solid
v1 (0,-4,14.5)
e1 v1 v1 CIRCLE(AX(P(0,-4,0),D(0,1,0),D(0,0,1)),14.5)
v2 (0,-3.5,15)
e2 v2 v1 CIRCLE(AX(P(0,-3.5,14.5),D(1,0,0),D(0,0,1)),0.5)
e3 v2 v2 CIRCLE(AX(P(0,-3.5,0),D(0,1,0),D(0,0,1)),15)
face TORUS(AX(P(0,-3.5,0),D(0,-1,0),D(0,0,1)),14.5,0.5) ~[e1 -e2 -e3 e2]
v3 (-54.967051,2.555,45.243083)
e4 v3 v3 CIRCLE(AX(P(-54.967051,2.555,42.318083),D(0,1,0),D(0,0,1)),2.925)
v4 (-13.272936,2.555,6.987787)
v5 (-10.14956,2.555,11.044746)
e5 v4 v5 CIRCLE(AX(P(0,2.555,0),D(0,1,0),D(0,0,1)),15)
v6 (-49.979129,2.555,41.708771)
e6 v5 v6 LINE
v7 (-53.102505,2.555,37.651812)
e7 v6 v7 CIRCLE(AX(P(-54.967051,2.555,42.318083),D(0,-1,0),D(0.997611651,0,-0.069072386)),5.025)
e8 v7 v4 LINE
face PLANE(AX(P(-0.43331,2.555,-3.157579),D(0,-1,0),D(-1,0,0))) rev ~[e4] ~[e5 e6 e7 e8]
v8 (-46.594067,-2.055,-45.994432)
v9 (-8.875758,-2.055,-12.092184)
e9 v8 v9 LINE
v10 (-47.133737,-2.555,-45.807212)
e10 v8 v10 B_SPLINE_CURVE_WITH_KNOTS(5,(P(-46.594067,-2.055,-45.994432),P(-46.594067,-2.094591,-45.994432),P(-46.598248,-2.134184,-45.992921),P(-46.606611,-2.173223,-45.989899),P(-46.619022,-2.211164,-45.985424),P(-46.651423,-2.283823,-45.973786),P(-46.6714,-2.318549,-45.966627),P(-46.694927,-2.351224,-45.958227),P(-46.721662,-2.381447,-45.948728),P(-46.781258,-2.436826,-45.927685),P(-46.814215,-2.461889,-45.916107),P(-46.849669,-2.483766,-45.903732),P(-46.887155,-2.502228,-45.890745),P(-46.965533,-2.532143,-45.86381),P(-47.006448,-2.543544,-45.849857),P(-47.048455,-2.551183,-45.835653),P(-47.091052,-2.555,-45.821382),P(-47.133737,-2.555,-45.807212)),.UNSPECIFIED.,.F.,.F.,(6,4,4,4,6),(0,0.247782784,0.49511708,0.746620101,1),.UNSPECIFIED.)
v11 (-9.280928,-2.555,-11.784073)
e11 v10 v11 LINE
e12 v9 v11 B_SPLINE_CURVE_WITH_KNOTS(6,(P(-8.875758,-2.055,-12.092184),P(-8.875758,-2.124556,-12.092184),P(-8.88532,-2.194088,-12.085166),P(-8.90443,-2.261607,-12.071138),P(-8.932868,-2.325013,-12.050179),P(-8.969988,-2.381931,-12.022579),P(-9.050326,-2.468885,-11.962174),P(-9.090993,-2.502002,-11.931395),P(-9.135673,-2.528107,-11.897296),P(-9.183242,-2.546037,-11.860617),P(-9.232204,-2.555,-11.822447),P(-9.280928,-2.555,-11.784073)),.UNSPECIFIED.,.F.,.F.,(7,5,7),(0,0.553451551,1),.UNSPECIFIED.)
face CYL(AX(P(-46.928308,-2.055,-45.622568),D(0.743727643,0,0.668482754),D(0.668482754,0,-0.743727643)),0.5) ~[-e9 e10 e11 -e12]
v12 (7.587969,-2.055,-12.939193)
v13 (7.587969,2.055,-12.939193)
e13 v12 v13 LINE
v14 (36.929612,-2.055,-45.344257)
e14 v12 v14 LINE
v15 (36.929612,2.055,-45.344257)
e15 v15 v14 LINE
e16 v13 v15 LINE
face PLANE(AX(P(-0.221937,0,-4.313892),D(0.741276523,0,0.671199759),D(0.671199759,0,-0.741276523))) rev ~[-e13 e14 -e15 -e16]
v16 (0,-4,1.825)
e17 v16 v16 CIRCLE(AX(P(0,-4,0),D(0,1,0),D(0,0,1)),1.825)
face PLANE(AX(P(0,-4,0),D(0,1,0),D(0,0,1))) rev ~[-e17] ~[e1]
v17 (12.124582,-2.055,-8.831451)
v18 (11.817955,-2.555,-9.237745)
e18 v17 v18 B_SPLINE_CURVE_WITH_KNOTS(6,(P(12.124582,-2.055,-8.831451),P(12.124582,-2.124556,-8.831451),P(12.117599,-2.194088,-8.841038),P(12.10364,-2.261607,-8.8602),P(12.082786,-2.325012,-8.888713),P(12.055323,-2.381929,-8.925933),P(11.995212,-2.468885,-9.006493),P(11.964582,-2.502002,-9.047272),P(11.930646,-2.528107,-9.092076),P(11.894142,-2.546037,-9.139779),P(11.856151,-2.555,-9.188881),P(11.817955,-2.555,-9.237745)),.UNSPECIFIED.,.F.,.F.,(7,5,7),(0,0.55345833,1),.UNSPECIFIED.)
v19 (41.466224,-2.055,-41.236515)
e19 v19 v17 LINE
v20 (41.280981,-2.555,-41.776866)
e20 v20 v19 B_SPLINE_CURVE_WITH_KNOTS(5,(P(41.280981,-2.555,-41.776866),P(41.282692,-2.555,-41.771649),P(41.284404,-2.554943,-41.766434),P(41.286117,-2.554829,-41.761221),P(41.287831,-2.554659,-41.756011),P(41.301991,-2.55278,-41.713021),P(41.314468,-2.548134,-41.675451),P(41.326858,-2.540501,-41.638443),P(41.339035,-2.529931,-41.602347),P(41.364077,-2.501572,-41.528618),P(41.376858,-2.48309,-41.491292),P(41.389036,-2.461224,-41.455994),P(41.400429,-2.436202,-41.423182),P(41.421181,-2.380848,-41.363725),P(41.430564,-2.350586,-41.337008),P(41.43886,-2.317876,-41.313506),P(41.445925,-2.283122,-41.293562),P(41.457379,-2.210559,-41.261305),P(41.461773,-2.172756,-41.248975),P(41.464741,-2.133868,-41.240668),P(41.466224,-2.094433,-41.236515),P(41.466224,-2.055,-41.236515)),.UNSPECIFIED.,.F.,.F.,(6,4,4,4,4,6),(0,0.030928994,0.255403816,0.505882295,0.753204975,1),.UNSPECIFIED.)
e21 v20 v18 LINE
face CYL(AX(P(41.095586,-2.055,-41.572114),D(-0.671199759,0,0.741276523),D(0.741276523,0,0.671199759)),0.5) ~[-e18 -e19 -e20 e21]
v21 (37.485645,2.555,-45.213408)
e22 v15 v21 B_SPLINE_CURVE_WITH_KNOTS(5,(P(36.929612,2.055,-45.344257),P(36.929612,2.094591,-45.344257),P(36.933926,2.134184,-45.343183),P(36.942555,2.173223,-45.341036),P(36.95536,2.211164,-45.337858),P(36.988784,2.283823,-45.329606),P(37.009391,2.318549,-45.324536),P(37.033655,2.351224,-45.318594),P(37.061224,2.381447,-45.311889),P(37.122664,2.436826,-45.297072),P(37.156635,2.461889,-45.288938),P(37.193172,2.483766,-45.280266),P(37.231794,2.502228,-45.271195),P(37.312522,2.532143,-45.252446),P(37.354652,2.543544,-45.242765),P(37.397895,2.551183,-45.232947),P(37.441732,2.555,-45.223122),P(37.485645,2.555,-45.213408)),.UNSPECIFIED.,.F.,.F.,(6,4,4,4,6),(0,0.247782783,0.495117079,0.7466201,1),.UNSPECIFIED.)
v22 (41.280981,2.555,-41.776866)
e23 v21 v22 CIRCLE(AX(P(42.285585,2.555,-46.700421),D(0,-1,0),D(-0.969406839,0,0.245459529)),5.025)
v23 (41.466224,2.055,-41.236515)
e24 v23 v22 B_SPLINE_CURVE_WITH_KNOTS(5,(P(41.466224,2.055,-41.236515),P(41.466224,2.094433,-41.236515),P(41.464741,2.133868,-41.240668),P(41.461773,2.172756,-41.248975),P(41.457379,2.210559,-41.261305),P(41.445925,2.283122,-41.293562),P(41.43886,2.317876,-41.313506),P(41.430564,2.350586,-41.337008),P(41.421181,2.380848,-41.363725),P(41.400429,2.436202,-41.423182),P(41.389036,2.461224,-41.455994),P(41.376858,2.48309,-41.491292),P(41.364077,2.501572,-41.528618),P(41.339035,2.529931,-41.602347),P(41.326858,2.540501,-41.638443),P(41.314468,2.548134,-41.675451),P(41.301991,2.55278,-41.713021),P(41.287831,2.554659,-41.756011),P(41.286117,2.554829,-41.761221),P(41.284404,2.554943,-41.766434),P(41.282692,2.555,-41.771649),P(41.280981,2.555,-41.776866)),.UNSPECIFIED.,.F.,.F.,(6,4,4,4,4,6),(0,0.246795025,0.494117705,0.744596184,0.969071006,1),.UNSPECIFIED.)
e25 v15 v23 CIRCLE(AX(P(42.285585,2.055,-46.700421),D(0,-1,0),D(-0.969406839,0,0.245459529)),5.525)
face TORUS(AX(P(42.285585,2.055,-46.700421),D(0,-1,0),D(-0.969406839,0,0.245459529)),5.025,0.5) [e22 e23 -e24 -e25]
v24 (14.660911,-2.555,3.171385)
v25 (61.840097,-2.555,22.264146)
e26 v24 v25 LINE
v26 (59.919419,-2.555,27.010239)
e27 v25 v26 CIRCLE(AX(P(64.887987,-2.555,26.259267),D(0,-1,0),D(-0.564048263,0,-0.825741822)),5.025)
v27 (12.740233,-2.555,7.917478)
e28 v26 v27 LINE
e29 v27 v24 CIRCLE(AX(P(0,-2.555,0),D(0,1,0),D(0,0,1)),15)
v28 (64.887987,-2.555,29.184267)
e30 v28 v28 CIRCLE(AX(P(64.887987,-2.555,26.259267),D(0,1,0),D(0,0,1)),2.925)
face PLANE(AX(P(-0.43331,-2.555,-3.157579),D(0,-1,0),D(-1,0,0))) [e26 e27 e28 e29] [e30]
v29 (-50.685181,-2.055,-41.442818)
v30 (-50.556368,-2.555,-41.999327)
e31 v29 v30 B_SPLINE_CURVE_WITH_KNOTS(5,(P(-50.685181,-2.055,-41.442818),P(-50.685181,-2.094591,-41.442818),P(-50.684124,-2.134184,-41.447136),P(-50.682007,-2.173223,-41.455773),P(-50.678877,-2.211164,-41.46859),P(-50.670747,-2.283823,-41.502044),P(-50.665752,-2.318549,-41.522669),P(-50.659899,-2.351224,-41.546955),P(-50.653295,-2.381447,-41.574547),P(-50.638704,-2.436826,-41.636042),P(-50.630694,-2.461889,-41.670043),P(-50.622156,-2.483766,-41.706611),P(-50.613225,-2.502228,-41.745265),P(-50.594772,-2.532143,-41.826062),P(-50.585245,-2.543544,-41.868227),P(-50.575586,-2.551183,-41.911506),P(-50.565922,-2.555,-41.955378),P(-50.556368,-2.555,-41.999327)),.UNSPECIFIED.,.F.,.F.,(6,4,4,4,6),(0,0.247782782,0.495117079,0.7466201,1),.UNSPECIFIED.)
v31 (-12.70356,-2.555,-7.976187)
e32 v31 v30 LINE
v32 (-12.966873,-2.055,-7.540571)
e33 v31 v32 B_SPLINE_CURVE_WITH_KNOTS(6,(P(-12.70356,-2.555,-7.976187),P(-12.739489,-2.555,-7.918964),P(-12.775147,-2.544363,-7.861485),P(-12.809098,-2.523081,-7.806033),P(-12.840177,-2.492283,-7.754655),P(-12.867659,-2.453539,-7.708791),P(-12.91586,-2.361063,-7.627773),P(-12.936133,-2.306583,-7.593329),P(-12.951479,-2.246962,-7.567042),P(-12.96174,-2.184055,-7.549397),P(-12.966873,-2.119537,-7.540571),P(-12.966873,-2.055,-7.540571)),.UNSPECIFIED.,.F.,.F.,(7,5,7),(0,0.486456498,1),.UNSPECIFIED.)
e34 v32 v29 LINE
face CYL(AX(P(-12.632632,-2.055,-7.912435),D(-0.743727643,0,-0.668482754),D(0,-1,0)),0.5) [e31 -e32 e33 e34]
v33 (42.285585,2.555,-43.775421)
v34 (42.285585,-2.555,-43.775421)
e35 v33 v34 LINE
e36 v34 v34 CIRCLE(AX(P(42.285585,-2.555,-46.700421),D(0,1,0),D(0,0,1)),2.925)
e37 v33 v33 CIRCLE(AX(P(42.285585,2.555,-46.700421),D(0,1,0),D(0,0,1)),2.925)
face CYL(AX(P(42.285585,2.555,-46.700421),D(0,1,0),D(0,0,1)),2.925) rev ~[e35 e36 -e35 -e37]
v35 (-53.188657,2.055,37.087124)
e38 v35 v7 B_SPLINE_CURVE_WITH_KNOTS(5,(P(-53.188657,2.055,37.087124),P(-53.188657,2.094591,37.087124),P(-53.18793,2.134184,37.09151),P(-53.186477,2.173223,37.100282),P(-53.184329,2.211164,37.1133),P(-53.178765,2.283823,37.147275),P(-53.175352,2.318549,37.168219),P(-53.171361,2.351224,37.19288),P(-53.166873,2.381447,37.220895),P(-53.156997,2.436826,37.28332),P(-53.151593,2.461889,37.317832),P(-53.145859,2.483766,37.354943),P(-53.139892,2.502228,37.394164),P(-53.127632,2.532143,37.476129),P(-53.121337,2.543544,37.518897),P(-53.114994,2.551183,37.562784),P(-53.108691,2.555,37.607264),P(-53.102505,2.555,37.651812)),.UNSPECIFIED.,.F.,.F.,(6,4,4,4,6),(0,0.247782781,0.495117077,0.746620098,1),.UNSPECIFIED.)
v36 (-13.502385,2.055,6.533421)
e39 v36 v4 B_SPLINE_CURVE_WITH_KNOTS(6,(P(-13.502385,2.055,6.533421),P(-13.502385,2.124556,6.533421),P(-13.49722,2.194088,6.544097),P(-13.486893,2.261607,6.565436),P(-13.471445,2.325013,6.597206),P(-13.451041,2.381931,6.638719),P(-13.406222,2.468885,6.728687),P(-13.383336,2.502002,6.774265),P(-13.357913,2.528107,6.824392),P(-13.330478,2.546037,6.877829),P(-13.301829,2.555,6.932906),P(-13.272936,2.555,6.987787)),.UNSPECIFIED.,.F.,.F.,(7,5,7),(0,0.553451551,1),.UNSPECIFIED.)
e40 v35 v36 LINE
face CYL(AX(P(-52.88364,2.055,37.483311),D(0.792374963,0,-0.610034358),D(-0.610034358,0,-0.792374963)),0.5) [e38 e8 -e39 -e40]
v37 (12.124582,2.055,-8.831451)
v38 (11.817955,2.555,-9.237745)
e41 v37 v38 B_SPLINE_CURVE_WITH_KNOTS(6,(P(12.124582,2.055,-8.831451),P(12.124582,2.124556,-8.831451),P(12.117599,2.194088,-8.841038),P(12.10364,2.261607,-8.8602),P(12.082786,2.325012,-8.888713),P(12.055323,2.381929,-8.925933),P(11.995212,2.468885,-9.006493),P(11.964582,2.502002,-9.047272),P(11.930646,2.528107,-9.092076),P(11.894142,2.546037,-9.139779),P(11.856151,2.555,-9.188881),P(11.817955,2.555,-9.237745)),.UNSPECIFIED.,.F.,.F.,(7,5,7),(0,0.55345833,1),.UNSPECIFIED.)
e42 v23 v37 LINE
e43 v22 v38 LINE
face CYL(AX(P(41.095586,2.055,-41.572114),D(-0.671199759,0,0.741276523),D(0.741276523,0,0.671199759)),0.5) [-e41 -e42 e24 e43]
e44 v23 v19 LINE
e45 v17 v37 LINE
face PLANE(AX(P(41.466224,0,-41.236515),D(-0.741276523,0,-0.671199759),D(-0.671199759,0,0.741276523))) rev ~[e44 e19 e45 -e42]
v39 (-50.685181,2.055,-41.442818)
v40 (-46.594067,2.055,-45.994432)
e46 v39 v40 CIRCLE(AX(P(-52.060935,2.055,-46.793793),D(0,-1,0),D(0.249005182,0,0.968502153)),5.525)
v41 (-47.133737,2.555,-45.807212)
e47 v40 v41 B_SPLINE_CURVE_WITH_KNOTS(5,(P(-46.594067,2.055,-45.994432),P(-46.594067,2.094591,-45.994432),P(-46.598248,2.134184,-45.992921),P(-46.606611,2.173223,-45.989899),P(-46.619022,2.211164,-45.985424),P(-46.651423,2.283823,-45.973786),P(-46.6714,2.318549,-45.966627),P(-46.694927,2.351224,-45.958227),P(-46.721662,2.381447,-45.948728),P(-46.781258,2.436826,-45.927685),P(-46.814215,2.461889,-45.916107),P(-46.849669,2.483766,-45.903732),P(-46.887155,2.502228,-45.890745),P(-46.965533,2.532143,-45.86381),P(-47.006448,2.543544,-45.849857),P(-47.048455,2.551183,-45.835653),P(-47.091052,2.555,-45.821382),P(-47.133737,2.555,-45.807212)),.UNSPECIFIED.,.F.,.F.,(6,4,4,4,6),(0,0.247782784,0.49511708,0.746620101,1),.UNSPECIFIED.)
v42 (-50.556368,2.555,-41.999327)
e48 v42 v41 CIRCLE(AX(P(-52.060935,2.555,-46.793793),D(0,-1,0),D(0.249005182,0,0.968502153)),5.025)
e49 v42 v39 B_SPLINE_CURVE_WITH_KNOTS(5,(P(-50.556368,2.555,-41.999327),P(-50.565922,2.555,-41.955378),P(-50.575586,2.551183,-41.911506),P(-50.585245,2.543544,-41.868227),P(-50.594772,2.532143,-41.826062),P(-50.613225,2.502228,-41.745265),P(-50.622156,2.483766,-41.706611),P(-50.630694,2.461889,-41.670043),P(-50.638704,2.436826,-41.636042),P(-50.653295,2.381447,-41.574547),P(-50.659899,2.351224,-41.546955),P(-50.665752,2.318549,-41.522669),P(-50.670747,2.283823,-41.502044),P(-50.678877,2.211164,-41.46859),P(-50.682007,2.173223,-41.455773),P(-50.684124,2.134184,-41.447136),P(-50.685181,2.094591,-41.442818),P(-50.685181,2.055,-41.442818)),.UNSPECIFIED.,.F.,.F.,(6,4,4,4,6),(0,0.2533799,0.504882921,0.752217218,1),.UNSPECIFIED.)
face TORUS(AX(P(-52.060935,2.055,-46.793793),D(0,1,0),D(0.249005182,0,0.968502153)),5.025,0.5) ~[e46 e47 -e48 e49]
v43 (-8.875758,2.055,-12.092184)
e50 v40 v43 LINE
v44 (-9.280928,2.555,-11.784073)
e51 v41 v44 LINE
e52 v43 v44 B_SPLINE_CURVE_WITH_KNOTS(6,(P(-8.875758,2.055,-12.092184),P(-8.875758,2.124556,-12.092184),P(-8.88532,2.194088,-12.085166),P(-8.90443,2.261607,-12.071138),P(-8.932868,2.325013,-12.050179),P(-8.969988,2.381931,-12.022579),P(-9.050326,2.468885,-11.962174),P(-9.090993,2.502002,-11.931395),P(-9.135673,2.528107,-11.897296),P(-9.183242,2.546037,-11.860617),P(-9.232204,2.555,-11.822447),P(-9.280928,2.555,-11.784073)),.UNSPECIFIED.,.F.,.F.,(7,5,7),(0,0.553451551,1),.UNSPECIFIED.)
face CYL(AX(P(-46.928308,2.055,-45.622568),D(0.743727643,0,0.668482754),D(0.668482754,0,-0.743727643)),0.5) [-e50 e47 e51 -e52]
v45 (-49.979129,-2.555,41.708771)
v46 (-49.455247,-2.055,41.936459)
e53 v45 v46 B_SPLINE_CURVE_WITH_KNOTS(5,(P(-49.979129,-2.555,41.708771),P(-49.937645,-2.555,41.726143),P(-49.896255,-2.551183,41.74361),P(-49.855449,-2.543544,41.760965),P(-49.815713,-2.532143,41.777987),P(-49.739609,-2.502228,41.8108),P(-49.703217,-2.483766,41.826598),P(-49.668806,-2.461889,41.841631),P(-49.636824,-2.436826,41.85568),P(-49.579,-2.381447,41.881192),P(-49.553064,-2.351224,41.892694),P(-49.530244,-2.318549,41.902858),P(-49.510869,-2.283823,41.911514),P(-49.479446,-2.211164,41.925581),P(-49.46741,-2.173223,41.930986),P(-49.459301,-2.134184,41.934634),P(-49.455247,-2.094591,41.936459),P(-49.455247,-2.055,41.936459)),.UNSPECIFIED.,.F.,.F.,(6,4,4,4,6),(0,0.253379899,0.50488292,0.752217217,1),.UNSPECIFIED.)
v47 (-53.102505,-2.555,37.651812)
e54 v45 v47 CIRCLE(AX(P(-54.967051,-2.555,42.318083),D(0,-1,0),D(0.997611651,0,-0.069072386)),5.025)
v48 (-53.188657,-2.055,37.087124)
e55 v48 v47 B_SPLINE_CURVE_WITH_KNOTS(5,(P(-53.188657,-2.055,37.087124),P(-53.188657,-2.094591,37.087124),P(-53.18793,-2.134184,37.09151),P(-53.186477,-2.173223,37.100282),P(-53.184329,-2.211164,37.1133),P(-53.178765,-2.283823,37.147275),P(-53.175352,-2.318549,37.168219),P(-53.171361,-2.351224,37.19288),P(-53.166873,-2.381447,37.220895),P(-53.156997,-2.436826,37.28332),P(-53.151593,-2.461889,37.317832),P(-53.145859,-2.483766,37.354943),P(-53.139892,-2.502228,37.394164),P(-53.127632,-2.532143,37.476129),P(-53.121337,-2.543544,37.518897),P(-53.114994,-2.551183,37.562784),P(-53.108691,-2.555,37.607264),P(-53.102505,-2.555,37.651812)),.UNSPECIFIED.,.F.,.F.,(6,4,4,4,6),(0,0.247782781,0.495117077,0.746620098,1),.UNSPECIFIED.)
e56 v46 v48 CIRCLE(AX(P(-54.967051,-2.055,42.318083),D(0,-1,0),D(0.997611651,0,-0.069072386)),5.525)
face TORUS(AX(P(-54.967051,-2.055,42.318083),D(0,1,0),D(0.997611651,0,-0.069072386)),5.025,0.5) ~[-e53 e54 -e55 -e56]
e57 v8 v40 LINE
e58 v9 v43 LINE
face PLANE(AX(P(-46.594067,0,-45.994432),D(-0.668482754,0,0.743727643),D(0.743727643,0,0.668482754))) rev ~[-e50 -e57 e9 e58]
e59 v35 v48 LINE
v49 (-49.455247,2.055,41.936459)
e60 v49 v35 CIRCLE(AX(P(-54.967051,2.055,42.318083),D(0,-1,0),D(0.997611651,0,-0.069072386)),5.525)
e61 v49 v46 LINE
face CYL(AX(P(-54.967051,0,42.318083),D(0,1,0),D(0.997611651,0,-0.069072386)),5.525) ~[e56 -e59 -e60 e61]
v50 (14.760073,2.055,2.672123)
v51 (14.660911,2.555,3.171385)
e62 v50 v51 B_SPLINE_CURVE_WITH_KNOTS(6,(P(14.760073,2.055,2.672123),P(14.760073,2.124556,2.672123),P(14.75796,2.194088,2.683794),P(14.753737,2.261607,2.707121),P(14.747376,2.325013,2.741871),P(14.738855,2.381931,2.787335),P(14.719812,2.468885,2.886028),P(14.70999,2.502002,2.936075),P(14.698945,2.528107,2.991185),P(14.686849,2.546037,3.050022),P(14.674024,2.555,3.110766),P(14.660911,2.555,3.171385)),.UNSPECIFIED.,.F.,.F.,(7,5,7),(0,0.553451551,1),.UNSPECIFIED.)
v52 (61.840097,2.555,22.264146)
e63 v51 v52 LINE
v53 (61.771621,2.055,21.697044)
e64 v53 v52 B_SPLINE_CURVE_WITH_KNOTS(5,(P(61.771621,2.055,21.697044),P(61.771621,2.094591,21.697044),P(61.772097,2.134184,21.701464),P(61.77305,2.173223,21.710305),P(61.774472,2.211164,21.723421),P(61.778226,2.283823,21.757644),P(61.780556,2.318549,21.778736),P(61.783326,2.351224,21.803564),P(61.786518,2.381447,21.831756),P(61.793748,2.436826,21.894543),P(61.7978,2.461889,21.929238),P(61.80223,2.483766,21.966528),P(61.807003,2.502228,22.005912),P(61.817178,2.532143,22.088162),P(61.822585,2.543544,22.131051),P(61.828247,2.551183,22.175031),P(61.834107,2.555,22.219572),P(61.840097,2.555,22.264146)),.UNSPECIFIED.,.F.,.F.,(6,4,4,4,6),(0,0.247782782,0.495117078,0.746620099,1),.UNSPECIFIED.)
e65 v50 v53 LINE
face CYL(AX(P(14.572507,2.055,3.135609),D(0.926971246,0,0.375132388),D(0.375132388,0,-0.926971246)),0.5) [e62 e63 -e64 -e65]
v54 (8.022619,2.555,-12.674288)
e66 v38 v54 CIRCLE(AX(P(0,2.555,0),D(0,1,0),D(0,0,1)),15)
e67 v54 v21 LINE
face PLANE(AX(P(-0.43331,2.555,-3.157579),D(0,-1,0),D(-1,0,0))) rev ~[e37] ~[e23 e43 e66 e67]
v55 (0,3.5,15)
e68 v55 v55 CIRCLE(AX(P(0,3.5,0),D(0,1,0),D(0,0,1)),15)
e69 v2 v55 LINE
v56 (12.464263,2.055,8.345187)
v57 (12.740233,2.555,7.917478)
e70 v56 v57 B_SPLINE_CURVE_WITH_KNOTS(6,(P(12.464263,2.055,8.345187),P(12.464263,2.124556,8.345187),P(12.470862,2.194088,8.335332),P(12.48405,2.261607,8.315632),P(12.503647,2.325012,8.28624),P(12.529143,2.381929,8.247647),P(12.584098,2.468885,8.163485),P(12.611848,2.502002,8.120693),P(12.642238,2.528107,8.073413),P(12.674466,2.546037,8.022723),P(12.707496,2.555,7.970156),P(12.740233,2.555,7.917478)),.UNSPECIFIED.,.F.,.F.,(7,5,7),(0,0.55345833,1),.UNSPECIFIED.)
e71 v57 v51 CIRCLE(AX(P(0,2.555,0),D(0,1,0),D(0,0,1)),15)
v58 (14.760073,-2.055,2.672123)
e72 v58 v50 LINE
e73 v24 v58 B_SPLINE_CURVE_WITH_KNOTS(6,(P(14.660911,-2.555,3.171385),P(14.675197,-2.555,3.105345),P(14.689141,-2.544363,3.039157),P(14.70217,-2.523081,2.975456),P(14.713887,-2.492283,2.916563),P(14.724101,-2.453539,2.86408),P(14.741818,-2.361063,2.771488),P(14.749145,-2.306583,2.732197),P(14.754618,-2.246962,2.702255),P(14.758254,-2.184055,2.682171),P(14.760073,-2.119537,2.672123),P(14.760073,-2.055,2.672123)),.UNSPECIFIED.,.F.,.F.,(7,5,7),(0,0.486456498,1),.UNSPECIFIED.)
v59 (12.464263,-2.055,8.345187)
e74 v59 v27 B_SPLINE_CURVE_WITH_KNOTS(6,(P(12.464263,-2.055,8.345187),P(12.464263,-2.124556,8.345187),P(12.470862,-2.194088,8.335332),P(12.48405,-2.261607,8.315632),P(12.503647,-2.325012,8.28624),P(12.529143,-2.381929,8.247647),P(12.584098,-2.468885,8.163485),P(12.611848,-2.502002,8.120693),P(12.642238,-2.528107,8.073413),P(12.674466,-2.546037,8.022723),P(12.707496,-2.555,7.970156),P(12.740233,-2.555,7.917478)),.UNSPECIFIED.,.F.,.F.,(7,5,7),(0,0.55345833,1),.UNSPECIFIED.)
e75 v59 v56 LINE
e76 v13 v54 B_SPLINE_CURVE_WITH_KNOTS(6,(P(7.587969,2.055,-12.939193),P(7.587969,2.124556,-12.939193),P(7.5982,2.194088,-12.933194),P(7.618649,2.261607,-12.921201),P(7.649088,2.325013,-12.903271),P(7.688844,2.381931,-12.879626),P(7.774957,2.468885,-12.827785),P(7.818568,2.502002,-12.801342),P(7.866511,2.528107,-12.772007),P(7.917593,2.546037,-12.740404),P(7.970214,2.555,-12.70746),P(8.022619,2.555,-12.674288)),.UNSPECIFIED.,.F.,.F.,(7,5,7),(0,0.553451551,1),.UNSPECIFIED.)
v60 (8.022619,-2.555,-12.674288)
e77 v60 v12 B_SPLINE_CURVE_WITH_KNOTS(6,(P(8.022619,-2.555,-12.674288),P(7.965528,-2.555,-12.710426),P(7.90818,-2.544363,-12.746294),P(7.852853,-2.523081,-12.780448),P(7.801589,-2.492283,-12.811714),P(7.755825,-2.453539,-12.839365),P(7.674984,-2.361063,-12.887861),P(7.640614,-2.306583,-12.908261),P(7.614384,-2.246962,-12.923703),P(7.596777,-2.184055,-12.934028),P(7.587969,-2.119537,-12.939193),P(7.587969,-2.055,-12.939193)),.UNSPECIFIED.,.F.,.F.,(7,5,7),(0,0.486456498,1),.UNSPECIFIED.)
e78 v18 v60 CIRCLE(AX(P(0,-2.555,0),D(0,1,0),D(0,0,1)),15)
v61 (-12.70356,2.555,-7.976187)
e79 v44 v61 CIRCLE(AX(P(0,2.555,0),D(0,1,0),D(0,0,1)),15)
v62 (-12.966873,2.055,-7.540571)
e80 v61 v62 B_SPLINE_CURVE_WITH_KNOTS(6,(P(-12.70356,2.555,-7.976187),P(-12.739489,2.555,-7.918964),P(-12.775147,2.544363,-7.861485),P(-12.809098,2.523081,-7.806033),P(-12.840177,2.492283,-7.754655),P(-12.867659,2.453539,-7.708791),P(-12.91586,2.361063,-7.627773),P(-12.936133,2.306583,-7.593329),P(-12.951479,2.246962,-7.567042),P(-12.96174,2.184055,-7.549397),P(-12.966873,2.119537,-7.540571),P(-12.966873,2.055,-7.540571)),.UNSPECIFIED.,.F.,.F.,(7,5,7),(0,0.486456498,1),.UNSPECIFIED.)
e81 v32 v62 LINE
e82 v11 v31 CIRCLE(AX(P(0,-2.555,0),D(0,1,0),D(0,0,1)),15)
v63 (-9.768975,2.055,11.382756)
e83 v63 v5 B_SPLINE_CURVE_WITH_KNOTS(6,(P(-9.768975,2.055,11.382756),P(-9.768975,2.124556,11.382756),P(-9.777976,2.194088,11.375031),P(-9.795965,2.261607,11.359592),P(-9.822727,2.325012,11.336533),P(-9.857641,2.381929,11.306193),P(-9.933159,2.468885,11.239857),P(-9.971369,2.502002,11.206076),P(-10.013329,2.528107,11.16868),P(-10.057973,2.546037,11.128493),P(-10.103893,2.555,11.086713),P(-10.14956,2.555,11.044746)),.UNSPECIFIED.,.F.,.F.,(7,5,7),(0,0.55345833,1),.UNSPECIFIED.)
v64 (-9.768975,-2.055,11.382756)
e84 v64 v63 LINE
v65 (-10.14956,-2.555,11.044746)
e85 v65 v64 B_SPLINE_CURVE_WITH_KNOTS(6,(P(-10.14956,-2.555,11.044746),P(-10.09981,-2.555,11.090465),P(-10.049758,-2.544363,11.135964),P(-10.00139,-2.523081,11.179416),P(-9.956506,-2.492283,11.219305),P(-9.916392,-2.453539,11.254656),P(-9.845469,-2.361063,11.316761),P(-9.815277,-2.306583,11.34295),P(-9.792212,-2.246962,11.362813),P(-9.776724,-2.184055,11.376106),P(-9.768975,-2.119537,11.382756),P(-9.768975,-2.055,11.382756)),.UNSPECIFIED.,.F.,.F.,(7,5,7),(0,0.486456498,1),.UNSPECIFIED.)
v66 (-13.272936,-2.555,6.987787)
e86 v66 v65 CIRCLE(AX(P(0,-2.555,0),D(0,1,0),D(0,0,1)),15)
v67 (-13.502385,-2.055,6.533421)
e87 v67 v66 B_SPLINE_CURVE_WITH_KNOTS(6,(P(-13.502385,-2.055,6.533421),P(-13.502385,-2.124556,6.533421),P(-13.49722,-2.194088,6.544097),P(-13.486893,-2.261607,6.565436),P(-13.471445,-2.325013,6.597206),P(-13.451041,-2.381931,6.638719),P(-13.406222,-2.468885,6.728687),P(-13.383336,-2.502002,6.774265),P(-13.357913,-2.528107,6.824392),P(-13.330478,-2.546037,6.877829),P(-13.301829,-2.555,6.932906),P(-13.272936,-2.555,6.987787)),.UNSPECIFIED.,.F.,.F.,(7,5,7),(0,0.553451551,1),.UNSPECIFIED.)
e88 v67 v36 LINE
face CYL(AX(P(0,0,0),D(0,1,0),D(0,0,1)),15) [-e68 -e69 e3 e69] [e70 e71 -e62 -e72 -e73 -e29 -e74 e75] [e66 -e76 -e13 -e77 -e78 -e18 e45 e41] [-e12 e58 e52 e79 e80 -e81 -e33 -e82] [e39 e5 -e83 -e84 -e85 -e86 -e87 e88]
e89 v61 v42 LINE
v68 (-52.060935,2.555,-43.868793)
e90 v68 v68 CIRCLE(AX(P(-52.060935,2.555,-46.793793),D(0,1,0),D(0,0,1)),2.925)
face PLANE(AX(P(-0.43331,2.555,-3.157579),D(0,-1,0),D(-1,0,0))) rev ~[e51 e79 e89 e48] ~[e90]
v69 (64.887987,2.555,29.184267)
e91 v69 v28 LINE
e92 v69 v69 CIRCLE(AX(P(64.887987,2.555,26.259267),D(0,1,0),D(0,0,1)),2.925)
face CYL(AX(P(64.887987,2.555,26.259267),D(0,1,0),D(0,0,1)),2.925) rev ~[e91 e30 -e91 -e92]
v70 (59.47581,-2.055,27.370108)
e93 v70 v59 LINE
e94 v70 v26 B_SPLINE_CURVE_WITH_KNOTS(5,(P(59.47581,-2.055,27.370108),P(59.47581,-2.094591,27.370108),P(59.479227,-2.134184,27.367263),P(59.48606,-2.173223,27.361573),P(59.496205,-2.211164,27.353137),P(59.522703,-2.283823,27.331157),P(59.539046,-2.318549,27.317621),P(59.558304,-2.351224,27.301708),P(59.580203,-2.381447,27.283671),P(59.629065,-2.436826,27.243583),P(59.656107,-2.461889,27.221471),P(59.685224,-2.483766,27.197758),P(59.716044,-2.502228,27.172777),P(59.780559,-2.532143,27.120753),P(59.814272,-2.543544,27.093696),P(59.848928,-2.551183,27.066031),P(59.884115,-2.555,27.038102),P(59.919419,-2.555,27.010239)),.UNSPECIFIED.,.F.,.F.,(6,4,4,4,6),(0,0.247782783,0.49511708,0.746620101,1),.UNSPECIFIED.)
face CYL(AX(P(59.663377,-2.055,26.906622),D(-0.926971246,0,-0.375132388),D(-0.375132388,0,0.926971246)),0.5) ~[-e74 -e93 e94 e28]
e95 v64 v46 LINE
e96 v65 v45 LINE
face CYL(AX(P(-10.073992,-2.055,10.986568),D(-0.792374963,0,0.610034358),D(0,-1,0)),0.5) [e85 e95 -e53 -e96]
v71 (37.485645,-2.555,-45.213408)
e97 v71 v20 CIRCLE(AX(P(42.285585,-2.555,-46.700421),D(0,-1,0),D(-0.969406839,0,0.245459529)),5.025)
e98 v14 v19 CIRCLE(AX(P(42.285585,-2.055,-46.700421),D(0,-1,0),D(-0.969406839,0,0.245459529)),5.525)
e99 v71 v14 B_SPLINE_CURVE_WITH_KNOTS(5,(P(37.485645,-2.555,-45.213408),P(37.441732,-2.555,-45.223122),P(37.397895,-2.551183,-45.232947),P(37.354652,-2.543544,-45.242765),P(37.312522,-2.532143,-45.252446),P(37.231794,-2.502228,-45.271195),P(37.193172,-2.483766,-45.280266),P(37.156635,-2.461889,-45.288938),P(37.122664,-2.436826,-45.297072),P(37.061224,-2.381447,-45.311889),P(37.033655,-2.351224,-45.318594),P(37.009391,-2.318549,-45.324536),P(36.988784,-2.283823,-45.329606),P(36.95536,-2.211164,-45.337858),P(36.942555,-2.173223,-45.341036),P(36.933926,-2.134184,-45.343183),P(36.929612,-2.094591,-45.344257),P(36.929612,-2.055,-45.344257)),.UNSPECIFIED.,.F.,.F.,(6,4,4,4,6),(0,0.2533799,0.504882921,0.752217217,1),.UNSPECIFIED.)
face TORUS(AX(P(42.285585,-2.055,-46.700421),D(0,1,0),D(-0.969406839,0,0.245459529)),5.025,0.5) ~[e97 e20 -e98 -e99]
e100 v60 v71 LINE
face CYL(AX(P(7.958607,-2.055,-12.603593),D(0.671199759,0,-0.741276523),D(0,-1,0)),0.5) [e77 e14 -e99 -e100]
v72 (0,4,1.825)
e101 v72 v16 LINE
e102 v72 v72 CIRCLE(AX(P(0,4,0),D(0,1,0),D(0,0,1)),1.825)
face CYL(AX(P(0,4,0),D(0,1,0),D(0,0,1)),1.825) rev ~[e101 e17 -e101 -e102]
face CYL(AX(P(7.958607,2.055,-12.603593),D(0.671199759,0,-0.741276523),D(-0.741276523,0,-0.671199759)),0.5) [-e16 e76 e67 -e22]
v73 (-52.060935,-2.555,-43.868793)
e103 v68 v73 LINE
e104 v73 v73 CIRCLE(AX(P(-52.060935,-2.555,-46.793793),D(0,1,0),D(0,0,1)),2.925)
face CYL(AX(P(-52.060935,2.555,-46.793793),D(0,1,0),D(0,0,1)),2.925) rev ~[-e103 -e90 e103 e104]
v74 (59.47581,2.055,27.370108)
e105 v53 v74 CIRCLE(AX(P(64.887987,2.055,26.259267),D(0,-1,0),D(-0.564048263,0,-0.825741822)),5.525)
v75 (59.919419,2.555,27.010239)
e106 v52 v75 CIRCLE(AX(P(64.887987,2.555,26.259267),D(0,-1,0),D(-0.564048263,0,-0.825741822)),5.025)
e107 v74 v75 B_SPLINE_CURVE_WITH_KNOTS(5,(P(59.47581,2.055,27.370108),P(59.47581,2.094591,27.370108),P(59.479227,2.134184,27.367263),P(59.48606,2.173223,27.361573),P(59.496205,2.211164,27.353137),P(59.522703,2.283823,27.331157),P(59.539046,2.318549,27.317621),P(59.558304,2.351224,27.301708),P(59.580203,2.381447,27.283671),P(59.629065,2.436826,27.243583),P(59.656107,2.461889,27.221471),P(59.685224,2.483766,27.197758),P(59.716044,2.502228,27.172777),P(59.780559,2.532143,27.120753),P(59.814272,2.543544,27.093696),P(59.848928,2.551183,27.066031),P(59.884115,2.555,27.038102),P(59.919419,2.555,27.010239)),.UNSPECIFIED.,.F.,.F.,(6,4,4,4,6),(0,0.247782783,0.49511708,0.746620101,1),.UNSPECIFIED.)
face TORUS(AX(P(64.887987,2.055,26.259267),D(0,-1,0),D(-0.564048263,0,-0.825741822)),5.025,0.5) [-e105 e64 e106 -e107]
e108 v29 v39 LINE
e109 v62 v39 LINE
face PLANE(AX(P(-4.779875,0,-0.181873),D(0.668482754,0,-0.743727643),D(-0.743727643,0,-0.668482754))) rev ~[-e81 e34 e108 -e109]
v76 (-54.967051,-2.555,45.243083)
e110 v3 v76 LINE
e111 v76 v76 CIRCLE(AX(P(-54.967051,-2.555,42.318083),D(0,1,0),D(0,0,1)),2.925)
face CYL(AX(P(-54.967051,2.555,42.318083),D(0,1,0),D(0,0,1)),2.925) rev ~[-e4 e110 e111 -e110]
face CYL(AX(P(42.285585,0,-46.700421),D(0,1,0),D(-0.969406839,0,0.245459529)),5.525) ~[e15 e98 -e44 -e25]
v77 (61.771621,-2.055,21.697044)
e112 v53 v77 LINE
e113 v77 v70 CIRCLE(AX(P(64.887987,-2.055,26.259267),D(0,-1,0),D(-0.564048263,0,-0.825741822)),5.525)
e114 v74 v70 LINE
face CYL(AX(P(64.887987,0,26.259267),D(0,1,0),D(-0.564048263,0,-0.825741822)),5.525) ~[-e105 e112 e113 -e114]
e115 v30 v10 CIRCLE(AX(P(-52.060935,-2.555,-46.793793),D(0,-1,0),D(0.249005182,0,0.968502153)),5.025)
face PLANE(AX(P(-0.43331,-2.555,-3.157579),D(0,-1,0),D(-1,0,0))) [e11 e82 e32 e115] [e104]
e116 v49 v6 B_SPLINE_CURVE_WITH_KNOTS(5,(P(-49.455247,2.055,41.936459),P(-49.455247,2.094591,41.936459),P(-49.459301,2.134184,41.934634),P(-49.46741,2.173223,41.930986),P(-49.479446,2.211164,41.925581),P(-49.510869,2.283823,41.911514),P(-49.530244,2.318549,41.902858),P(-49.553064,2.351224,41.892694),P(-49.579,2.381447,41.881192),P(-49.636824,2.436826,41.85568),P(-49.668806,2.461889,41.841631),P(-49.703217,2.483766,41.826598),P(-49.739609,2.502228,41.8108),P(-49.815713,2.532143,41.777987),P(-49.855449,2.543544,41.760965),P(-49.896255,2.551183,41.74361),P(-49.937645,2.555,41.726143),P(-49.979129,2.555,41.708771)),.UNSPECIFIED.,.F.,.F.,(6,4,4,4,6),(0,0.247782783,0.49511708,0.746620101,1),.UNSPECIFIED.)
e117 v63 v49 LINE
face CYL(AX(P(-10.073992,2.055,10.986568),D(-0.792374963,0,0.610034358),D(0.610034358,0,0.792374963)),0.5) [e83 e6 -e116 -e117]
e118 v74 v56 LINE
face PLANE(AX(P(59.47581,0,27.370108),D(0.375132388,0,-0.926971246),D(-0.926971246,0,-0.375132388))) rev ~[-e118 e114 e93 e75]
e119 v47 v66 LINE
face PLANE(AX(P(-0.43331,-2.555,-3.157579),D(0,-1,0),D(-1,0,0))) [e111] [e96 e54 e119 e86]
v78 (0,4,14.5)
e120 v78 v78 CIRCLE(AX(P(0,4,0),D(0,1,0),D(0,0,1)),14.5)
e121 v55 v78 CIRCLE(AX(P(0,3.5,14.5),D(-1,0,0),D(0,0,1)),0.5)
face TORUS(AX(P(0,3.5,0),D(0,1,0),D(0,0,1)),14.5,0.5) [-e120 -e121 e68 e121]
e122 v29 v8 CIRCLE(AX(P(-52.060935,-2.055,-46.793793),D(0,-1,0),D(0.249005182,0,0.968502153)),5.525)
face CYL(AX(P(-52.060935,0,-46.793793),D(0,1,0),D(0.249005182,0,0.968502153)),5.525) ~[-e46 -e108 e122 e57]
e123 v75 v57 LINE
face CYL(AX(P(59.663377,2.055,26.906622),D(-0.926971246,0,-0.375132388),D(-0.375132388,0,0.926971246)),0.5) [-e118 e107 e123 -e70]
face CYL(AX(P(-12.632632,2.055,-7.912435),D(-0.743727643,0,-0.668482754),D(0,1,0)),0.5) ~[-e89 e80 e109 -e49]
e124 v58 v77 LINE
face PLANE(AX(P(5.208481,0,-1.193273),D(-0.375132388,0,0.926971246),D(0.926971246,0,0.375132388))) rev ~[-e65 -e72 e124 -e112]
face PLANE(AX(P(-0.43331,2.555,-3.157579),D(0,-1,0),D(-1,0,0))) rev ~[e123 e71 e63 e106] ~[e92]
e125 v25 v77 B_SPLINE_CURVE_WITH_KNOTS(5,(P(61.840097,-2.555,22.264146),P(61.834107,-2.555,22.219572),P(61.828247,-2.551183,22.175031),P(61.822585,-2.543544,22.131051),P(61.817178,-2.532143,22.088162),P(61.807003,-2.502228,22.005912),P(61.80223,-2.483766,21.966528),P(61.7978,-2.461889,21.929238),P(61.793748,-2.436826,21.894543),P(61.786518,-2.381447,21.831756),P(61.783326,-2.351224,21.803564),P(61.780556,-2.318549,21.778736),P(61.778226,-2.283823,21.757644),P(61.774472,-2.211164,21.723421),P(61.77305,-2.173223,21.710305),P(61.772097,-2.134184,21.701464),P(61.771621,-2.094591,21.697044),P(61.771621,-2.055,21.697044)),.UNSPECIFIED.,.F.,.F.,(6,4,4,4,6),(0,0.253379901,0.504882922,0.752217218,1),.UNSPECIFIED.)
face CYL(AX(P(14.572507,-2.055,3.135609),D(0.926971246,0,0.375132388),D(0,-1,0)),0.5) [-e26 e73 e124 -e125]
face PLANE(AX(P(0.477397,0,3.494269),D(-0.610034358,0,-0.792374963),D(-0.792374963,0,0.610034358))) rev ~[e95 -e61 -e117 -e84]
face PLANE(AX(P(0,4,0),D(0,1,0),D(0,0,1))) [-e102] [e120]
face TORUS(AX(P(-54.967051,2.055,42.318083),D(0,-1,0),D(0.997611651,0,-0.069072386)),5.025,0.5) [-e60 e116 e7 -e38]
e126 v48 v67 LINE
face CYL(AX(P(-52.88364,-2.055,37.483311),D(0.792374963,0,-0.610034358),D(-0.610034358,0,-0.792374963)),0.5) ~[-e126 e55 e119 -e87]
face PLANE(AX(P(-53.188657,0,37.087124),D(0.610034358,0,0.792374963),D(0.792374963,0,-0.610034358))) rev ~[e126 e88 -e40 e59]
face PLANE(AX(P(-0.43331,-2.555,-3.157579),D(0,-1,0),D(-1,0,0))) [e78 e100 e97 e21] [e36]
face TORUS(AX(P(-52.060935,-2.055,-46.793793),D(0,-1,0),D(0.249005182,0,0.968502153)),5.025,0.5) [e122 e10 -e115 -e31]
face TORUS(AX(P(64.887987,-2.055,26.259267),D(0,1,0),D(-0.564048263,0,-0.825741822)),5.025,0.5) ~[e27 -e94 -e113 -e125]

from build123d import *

# Parameters (mm, degrees)
SKETCH2_R           = 15
BOSS_EXTRUDE1_DEPTH = 4
BOSS_EXTRUDE2_DEPTH = 2.555
FILLET1_R           = 0.5
CUT_EXTRUDE1_REACH  = 90.087
SKETCH3_R           = 1.825
CUT_EXTRUDE2_REACH  = 89.967
SKETCH4_R           = 2.925


with BuildPart() as part:
    # Sketch2 → Boss-Extrude1 (new, symmetric)
    with BuildSketch(Plane(origin=(0, 0, 0), x_dir=(1, 0, 0), z_dir=(0, 1, 0))):
        with Locations(Location((0, 0, 0), (0, 0, 270))):
            Circle(SKETCH2_R)
    extrude(amount=BOSS_EXTRUDE1_DEPTH, both=True)

    # Sketch1 → Boss-Extrude2 (add, symmetric)
    with BuildSketch(Plane(origin=(0, 0, 0), x_dir=(1, 0, 0), z_dir=(0, 1, 0))):
        with BuildLine():
            Line((-46.594066944, 45.994431578), (-0.221936811, 4.313892269))
            Line((-0.221936811, 4.313892269), (36.929612054, 45.344257029))
            ThreePointArc((36.929612054, 45.344257029), (45.993963511, 50.795973714), (41.466224373, 41.236514501))
            Line((41.466224373, 41.236514501), (5.2084811, 1.193273309))
            Line((5.2084811, 1.193273309), (61.771620581, -21.697043607))
            ThreePointArc((61.771620581, -21.697043607), (70.009503371, -28.331873619), (59.475810365, -27.370107634))
            Line((59.475810365, -27.370107634), (0.477396998, -3.494269201))
            Line((0.477396998, -3.494269201), (-49.455246799, -41.936458505))
            ThreePointArc((-49.455246799, -41.936458505), (-59.344922838, -45.688523268), (-53.188657072, -37.087123733))
            Line((-53.188657072, -37.087123733), (-4.779875288, 0.181873295))
            Line((-4.779875288, 0.181873295), (-50.685181399, 41.442818401))
            ThreePointArc((-50.685181399, 41.442818401), (-56.170030256, 50.487160011), (-46.594066944, 45.994431578))
        make_face()
    extrude(amount=BOSS_EXTRUDE2_DEPTH, both=True)

    # Fillet1
    fillet1_edges = [part.edges().sort_by_distance(p)[0] for p in [
        (0, 4, -15),
        (-29.612110989, 2.555, 26.659607028),
        (-33.345521263, 2.555, 21.810272256),
        (-59.344922838, 2.555, 45.688523268),
        (-31.82602715, 2.555, -24.491694574),
        (-27.734912694, 2.555, -29.04330775),
        (-56.170030256, 2.555, -50.487160011),
        (22.258790632, 2.555, -29.141725165),
        (26.795402951, 2.555, -25.033982637),
        (45.993963511, 2.555, -50.795973714),
        (45.993963511, -2.555, -50.795973714),
        (22.258790632, -2.555, -29.141725165),
        (-27.734912694, -2.555, -29.04330775),
        (-56.170030256, -2.555, -50.487160011),
        (-31.82602715, -2.555, -24.491694574),
        (-33.345521263, -2.555, 21.810272256),
        (-59.344922838, -2.555, 45.688523268),
        (-29.612110989, -2.555, 26.659607028),
        (35.970036611, -2.555, 17.857647478),
        (70.009503371, -2.555, 28.331873619),
        (38.265846827, -2.555, 12.184583452),
        (26.795402951, -2.555, -25.033982637),
        (38.265846827, 2.555, 12.184583452),
        (35.970036611, 2.555, 17.857647478),
        (70.009503371, 2.555, 28.331873619),
        (0, -4, -15),
    ]]
    fillet(fillet1_edges, radius=FILLET1_R)

    # Sketch3 → Cut-Extrude1 (cut, up to next)
    with BuildSketch(Plane(origin=(0, 4, 0), x_dir=(1, 0, 0), z_dir=(0, 1, 0)), mode=Mode.PRIVATE) as cut_extrude1_sk1:
        with Locations(Location((0, 0, 0), (0, 0, 270))):
            Circle(SKETCH3_R)
    cut_extrude1_tool1 = extrude(cut_extrude1_sk1.sketch, amount=-CUT_EXTRUDE1_REACH, mode=Mode.PRIVATE) & part.part
    add(cut_extrude1_tool1.solids().sort_by_distance((0, 4, 0))[0], mode=Mode.SUBTRACT)

    # Sketch4 → Cut-Extrude2 (cut, up to next)
    with BuildSketch(Plane(origin=(0, 2.555, 0), x_dir=(1, 0, 0), z_dir=(0, 1, 0)), mode=Mode.PRIVATE) as cut_extrude2_sk1:
        with Locations(Location((-52.060935027, 46.793792794, 0), (0, 0, 270))):
            Circle(SKETCH4_R)
    cut_extrude2_tool1 = extrude(cut_extrude2_sk1.sketch, amount=-CUT_EXTRUDE2_REACH, mode=Mode.PRIVATE) & part.part
    # Sketch4 → Cut-Extrude2 (cut, up to next)
    with BuildSketch(Plane(origin=(0, 2.555, 0), x_dir=(1, 0, 0), z_dir=(0, 1, 0)), mode=Mode.PRIVATE) as cut_extrude2_sk2:
        with Locations(Location((42.28558484, 46.700420927, 0), (0, 0, 270))):
            Circle(SKETCH4_R)
    cut_extrude2_tool2 = extrude(cut_extrude2_sk2.sketch, amount=-CUT_EXTRUDE2_REACH, mode=Mode.PRIVATE) & part.part
    # Sketch4 → Cut-Extrude2 (cut, up to next)
    with BuildSketch(Plane(origin=(0, 2.555, 0), x_dir=(1, 0, 0), z_dir=(0, 1, 0)), mode=Mode.PRIVATE) as cut_extrude2_sk3:
        with Locations(Location((64.887987235, -26.259267174, 0), (0, 0, 270))):
            Circle(SKETCH4_R)
    cut_extrude2_tool3 = extrude(cut_extrude2_sk3.sketch, amount=-CUT_EXTRUDE2_REACH, mode=Mode.PRIVATE) & part.part
    # Sketch4 → Cut-Extrude2 (cut, up to next)
    with BuildSketch(Plane(origin=(0, 2.555, 0), x_dir=(1, 0, 0), z_dir=(0, 1, 0)), mode=Mode.PRIVATE) as cut_extrude2_sk4:
        with Locations(Location((-54.967051168, -42.318083438, 0), (0, 0, 270))):
            Circle(SKETCH4_R)
    cut_extrude2_tool4 = extrude(cut_extrude2_sk4.sketch, amount=-CUT_EXTRUDE2_REACH, mode=Mode.PRIVATE) & part.part
    add(cut_extrude2_tool1.solids().sort_by_distance((-52.060935, 2.555, -46.793793))[0], mode=Mode.SUBTRACT)
    add(cut_extrude2_tool2.solids().sort_by_distance((42.285585, 2.555, -46.700421))[0], mode=Mode.SUBTRACT)
    add(cut_extrude2_tool3.solids().sort_by_distance((64.887987, 2.555, 26.259267))[0], mode=Mode.SUBTRACT)
    add(cut_extrude2_tool4.solids().sort_by_distance((-54.967051, 2.555, 42.318083))[0], mode=Mode.SUBTRACT)


solid = part.part
